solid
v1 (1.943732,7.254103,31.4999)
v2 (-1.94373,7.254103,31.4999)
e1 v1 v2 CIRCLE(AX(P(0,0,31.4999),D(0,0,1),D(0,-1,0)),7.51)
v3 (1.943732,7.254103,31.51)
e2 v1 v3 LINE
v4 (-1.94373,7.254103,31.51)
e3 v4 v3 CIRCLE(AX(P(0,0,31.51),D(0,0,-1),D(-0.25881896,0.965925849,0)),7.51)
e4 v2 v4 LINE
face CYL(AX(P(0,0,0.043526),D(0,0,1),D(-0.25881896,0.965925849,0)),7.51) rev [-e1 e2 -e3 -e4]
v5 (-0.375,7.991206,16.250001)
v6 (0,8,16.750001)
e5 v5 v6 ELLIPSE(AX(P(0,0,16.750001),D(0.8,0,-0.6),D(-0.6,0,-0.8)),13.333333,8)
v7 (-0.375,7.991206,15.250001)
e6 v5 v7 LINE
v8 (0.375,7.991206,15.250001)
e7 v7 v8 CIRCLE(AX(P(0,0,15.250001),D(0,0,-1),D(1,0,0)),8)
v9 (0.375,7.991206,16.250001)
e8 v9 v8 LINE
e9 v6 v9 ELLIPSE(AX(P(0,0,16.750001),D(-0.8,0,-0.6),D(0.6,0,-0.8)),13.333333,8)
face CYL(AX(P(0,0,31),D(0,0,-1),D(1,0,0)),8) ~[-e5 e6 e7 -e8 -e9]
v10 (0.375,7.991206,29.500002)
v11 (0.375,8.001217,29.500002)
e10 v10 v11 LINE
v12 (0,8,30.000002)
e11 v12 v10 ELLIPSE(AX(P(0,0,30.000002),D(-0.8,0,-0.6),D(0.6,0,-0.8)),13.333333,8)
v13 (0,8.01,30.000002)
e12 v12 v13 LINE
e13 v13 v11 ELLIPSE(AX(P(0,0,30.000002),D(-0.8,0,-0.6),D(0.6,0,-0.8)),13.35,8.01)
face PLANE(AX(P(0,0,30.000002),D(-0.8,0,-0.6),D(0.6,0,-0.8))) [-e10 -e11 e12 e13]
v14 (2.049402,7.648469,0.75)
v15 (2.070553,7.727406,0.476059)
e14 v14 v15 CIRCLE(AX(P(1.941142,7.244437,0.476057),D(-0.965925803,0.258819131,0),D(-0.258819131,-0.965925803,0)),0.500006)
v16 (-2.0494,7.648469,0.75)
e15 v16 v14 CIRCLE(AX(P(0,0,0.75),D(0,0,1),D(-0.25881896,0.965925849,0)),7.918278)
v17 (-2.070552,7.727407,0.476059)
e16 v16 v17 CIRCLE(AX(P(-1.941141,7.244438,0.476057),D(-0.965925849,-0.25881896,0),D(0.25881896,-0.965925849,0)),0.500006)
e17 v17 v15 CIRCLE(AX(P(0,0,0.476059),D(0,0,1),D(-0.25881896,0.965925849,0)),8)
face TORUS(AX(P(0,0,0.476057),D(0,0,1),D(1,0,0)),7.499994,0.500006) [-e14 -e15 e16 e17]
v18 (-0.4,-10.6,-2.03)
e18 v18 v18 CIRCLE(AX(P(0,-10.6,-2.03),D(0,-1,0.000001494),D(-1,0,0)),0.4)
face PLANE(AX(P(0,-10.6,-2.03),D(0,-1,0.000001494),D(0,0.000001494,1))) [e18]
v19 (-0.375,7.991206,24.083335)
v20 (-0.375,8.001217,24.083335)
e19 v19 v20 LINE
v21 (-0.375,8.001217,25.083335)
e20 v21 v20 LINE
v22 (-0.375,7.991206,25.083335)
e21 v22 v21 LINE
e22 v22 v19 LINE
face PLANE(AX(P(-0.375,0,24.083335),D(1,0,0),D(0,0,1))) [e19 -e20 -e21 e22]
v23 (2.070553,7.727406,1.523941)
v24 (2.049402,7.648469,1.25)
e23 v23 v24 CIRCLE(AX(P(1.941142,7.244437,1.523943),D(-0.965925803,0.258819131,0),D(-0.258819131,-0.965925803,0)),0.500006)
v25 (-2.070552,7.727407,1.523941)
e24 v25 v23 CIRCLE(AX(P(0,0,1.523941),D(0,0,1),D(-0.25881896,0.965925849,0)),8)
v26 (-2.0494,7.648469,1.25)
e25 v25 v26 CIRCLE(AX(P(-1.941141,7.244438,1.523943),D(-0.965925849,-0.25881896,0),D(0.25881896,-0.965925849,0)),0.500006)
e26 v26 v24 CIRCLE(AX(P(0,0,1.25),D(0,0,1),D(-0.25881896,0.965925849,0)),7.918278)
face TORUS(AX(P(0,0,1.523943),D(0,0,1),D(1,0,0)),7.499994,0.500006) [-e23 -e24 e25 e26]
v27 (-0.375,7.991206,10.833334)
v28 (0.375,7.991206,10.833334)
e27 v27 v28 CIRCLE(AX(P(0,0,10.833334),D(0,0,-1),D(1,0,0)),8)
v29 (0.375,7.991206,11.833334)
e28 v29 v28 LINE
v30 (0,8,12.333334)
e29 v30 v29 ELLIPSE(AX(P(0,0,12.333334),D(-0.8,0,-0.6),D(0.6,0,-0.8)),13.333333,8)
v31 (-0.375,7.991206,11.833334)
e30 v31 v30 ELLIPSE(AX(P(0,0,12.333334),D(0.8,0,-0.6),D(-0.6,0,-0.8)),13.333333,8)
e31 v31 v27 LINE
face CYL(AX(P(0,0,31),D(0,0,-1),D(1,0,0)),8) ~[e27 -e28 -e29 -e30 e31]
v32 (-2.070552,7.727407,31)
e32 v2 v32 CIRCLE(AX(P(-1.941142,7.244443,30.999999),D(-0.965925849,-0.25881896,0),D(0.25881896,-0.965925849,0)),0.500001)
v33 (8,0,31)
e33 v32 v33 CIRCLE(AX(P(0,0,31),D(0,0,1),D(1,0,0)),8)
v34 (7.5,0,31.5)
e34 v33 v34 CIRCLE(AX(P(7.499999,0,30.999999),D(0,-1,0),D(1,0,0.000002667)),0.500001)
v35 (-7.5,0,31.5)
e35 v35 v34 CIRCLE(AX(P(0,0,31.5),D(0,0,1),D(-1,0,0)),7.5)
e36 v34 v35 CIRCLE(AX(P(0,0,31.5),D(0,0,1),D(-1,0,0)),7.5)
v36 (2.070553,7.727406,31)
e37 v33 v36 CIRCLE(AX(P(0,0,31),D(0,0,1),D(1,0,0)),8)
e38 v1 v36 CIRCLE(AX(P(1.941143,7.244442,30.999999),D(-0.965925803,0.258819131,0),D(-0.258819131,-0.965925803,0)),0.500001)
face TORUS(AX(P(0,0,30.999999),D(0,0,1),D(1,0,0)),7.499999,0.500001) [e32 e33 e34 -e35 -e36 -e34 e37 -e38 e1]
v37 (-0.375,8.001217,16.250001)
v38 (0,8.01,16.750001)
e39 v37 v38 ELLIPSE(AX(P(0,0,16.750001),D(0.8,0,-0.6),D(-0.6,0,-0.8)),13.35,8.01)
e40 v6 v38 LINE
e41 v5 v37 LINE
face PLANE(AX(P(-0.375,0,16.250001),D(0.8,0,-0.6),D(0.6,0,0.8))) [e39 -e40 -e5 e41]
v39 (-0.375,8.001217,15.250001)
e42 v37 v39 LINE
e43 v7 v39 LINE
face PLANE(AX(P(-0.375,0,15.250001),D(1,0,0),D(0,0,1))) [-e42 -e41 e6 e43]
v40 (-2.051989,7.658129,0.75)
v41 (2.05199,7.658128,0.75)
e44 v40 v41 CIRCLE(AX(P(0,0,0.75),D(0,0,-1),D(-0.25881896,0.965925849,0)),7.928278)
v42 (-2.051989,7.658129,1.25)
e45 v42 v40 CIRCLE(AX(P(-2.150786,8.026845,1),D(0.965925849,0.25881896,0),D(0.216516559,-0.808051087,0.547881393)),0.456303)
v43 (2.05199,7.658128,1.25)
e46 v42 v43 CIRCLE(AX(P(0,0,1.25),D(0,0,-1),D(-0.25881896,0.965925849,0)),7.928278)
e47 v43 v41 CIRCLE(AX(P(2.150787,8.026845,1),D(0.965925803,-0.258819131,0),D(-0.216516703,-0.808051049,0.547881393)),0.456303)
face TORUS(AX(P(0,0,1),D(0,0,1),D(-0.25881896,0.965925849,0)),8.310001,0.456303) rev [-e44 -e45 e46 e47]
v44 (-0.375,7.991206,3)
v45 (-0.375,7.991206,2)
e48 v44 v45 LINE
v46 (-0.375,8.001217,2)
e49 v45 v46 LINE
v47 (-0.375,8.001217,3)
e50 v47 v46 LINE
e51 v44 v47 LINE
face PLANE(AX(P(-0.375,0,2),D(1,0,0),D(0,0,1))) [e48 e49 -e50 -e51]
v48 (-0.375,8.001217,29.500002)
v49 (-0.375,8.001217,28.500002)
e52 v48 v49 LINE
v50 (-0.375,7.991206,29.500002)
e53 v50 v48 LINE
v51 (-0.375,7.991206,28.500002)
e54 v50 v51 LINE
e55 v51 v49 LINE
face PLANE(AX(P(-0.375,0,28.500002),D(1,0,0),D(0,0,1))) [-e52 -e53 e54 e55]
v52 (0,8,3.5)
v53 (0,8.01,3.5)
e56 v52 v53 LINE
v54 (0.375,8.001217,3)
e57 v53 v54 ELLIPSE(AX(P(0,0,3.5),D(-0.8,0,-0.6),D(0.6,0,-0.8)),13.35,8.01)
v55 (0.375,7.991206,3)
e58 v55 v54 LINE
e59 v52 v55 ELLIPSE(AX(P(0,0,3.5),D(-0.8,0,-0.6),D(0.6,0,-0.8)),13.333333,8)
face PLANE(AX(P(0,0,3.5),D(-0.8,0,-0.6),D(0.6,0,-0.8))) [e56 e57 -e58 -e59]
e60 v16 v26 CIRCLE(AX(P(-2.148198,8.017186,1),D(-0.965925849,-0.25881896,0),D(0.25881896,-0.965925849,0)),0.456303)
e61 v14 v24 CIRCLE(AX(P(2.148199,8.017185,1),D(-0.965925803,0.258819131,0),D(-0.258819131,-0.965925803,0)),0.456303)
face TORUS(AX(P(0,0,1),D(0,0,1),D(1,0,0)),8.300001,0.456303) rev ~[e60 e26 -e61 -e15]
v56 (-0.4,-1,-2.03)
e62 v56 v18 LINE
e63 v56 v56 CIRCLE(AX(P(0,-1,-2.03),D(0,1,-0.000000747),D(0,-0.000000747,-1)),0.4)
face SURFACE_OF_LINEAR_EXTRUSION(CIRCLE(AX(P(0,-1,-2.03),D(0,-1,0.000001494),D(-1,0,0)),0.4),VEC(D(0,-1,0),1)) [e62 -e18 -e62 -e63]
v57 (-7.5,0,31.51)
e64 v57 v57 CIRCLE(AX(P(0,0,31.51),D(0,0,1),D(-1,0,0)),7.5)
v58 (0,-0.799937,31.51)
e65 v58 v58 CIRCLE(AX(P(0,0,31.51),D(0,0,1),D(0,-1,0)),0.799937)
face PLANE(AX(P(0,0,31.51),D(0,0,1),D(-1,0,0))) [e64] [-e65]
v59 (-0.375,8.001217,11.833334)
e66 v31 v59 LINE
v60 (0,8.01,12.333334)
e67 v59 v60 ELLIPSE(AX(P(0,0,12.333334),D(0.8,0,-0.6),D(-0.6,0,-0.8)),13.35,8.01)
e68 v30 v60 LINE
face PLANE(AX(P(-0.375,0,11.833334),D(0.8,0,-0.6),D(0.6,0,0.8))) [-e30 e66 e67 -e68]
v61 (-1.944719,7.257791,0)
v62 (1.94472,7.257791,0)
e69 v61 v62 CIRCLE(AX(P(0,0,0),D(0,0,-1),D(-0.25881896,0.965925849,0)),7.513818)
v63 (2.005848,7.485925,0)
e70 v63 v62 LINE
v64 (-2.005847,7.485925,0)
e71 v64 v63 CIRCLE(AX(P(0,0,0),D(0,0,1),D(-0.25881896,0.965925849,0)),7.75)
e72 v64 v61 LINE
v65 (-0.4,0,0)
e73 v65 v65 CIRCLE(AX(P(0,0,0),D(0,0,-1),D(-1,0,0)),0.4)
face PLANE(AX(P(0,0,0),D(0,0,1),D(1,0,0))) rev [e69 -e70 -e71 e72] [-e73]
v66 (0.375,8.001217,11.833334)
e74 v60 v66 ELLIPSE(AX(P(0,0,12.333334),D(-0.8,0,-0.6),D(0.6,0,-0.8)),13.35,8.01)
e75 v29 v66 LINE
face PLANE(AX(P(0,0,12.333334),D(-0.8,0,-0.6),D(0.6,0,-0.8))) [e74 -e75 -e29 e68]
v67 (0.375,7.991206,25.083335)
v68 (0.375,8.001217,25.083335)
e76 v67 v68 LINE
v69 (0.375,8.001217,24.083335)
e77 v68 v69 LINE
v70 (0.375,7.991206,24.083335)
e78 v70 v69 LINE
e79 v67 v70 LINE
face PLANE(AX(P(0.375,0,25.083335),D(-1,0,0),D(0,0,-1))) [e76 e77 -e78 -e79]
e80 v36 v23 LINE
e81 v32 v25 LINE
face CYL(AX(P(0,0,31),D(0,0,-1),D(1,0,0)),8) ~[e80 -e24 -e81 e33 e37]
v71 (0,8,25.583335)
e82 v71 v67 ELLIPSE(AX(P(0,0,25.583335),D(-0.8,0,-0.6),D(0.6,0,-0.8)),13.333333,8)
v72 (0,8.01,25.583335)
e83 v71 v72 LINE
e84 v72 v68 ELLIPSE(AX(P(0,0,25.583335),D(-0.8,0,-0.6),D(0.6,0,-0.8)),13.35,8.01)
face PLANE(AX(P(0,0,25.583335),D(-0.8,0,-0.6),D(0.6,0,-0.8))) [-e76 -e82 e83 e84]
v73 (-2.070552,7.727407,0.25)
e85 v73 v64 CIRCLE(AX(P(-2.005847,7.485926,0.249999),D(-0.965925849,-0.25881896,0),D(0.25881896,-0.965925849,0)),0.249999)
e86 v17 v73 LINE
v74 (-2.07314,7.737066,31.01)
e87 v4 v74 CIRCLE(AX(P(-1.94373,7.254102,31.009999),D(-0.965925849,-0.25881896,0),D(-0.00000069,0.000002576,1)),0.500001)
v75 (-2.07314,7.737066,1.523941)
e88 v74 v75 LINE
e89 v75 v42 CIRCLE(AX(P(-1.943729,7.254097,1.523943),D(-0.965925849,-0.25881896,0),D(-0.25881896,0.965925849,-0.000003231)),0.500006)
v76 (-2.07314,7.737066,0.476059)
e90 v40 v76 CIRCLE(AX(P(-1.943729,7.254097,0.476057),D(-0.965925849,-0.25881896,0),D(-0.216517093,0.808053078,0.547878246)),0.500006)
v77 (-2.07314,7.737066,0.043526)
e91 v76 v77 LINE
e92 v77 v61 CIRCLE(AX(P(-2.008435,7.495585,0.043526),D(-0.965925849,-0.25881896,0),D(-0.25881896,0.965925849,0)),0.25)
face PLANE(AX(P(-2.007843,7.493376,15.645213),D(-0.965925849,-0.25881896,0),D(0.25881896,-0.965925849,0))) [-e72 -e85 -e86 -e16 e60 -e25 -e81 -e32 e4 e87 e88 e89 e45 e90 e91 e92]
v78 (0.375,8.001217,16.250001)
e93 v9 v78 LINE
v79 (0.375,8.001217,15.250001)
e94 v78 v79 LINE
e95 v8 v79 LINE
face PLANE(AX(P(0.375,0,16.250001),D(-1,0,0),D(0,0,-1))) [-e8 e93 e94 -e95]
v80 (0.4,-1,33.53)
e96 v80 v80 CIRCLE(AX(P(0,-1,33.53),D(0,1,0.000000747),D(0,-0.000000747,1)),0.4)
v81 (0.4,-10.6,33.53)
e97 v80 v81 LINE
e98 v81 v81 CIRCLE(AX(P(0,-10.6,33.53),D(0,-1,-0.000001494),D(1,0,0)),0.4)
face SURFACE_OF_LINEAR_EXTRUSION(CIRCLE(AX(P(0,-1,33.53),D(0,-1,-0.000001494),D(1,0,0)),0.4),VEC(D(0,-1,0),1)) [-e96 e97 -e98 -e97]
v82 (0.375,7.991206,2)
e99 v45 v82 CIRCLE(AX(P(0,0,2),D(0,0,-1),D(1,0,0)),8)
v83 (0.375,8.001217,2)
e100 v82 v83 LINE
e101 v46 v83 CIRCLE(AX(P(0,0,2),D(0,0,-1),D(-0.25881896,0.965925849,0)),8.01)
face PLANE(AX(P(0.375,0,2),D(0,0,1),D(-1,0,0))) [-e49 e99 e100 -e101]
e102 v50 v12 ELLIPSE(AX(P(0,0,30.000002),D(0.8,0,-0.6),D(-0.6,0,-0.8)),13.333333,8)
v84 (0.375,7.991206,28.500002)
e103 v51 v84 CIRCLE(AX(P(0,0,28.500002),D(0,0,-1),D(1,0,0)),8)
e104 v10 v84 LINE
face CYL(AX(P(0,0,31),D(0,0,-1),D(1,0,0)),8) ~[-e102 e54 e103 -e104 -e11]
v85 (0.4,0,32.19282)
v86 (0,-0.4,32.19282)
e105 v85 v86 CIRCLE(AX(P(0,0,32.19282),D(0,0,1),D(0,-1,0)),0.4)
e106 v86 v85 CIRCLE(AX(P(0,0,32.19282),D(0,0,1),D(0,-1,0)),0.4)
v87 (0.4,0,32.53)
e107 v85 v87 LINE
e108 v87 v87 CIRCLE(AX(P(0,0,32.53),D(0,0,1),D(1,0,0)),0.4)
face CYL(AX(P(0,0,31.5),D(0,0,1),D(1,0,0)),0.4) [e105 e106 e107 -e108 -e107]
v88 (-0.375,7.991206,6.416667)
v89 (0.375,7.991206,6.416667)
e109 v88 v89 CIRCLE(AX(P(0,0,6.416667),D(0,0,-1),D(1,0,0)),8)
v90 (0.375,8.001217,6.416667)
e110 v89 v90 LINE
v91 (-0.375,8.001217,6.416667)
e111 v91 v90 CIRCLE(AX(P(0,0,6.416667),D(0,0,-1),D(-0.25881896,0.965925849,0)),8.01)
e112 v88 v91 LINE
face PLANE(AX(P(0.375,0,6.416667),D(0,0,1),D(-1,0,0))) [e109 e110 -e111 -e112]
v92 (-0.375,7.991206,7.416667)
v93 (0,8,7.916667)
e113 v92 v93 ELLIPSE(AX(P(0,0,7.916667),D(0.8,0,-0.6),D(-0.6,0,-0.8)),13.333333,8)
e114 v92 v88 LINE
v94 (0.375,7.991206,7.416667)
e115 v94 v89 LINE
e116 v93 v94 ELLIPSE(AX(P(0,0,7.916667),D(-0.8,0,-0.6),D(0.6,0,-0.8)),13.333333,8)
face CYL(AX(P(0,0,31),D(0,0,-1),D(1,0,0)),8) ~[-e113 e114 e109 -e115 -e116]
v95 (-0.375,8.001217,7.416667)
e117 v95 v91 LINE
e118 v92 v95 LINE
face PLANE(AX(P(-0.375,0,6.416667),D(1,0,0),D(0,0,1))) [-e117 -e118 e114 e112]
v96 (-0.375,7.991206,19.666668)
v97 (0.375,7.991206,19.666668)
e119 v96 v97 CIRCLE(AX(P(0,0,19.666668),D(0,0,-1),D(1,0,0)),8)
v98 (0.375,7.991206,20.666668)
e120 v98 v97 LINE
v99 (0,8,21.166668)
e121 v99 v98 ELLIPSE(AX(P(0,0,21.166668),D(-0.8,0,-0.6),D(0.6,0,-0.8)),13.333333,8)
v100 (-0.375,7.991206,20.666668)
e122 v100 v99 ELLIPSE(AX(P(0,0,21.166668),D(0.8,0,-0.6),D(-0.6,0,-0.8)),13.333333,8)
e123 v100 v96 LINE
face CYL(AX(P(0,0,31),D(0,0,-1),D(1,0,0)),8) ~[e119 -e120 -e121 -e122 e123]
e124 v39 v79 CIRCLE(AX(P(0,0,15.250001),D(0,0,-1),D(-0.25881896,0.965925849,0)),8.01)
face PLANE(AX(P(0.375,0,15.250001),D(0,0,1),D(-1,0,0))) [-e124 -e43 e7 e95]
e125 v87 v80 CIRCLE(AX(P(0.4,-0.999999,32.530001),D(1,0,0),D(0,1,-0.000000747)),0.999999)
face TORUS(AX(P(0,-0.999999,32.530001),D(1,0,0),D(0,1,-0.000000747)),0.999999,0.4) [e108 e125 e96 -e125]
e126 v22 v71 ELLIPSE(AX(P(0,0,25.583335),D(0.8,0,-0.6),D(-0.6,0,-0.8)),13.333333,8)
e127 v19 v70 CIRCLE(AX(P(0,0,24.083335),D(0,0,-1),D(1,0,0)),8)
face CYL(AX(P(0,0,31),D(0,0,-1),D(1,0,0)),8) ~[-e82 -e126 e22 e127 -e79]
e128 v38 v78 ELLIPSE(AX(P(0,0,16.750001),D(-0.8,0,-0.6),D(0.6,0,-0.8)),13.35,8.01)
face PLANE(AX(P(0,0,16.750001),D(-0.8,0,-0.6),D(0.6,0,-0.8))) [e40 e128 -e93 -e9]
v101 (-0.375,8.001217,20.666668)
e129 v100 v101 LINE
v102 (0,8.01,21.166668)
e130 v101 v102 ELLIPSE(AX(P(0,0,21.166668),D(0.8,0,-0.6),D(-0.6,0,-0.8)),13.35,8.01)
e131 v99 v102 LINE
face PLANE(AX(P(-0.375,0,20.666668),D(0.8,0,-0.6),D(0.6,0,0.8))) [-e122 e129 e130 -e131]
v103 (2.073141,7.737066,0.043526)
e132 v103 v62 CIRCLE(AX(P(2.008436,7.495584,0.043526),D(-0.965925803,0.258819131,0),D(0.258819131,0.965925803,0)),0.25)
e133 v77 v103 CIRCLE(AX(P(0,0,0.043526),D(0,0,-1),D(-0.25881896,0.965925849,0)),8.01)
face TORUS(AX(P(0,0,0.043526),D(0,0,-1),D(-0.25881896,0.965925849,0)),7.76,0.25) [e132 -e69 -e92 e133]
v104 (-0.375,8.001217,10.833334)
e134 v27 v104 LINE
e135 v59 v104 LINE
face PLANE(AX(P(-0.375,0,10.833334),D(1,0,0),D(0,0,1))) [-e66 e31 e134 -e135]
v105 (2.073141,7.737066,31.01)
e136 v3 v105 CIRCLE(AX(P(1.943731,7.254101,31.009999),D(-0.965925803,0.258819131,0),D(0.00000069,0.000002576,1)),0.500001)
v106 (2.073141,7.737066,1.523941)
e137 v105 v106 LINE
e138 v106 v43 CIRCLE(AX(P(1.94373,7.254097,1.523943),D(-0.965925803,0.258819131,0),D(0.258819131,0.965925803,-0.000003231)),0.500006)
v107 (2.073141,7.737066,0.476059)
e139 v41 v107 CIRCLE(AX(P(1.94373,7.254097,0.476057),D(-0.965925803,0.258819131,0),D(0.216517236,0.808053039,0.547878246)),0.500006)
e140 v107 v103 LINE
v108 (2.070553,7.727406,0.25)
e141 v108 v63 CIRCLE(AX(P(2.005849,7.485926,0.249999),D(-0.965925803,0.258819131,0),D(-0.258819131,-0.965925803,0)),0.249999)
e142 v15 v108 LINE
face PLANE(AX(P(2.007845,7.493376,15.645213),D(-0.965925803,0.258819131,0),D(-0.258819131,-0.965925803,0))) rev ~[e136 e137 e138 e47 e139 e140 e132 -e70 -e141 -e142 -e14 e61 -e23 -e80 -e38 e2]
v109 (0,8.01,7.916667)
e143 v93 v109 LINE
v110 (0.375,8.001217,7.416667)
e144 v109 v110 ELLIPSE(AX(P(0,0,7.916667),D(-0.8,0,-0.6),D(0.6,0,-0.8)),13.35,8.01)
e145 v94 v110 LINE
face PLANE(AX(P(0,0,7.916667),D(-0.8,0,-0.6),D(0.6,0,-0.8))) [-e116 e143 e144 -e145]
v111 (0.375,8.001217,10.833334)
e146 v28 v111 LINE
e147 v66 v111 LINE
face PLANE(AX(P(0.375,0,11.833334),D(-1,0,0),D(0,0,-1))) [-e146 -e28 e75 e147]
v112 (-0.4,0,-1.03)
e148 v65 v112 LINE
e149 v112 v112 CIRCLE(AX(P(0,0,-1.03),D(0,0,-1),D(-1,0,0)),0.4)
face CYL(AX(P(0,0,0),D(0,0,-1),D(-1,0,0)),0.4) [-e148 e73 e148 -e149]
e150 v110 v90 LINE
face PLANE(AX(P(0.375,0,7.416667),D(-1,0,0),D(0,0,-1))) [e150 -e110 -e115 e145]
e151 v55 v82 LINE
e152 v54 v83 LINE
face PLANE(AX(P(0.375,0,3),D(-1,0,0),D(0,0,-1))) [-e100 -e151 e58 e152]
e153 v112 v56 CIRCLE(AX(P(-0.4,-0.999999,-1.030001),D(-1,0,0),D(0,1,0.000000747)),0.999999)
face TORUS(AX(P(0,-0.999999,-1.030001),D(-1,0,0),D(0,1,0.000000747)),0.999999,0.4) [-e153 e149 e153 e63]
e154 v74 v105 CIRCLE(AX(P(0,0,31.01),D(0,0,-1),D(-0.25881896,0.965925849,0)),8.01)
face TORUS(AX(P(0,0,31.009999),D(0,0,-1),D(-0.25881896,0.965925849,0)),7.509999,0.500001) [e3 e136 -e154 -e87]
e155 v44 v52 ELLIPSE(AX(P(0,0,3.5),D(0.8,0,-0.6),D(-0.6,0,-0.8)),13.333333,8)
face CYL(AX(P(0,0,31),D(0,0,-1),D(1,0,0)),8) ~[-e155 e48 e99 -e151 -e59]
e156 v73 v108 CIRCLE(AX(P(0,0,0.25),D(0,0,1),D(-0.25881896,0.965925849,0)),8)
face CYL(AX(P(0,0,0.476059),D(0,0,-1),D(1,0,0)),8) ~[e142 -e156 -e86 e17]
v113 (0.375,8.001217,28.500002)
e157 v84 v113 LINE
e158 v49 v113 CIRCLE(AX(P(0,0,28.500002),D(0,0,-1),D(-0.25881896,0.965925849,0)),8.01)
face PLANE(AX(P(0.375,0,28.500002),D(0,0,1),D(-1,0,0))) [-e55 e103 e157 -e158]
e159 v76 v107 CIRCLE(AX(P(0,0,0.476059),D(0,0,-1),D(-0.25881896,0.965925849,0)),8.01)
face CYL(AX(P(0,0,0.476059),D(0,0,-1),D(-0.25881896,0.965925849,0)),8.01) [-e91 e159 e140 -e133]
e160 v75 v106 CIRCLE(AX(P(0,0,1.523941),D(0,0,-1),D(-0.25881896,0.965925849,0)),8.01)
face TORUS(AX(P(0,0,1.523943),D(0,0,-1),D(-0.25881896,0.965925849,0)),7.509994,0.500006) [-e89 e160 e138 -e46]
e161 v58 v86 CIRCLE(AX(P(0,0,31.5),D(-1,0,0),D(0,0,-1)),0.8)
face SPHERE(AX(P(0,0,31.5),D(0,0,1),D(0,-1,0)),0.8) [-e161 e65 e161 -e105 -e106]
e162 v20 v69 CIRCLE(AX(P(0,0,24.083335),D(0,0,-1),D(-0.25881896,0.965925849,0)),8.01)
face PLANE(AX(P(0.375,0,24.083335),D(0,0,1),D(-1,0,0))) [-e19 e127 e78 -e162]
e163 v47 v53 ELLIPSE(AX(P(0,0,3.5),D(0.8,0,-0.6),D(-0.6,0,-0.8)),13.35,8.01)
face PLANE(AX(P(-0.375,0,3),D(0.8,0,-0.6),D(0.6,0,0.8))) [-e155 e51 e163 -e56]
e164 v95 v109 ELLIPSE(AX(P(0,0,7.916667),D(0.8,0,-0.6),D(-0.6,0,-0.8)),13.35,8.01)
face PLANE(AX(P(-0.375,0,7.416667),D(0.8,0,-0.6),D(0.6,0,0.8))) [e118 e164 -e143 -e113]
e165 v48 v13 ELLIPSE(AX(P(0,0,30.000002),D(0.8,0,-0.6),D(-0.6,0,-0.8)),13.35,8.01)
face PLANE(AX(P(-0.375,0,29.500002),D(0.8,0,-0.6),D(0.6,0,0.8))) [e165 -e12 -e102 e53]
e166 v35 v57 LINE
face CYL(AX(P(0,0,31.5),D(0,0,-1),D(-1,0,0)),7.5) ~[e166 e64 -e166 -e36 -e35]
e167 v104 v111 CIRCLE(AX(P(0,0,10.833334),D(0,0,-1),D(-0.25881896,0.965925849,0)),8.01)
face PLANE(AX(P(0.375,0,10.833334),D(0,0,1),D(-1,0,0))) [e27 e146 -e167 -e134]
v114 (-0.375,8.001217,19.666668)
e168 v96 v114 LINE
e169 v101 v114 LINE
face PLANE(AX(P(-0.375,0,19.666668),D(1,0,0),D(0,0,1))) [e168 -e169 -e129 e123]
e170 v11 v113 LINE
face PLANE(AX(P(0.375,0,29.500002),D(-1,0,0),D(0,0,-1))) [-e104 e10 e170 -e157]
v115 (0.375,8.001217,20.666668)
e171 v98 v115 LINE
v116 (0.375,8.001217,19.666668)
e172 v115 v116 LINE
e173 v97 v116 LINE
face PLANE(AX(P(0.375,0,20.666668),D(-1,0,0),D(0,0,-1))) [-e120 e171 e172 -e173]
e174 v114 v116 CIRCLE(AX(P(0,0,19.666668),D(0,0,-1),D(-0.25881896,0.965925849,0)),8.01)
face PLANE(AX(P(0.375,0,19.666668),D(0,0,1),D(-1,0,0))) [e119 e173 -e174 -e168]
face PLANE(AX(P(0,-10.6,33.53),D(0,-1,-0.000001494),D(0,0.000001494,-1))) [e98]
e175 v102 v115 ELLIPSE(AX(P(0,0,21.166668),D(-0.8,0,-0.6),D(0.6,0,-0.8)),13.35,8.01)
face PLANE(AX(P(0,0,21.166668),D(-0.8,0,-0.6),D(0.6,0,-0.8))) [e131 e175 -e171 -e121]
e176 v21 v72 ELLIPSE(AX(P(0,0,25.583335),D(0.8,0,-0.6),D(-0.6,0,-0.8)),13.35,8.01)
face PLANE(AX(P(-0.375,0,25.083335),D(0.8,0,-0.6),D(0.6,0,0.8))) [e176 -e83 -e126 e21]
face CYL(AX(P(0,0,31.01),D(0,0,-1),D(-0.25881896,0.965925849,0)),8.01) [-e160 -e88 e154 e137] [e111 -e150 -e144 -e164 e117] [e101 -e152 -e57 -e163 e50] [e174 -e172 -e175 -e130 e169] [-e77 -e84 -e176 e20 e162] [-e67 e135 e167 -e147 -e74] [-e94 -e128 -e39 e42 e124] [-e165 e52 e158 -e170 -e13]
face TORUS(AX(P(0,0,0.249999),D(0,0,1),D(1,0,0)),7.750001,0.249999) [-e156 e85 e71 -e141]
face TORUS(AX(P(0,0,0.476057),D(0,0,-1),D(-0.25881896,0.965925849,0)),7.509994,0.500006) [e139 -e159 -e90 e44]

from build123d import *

# Parameters (mm, degrees)
SKETCH011_R             = 0.4
BODY007_PLACEMENT_ANGLE = 180
REVOLUTION001_ANGLE     = -30
POCKET_DEPTH            = 8.011
LINEARPATTERN_COUNT     = 7
LINEARPATTERN_PITCH     = 4.416667
SKETCH012_R             = 7.5
PAD_DEPTH               = 0.01
BODY008_PLACEMENT_ANGLE = 90


with BuildPart() as lead:
    # AdditivePipe: sweep along a path in Sketch010
    with BuildLine(Plane(origin=(0, 0, 0), x_dir=(0, -1, 0), z_dir=(-1, 0, 0))) as additivepipe_path:
        Line((0, 31.5), (0, 32.53))
        ThreePointArc((0, 32.53), (0.292893, 33.237107), (1, 33.53))
        Line((1, 33.53), (10.6, 33.53))
    # Sketch011 → AdditivePipe (sweep)
    with BuildSketch(Plane.XY.offset(31.5)):
        Circle(SKETCH011_R)
    sweep(path=additivepipe_path.line)


with BuildPart() as leadclone:
    # Body007 base: copy of Lead
    add(lead.part)


with BuildPart() as leadclone_1:
    # Body007 placement: moved
    add(leadclone.part.moved(Location((0, 0, 31.5))).rotate(Axis((0, 0, 31.5), (0, 1, 0)), BODY007_PLACEMENT_ANGLE))


with BuildPart() as polaritymarking:
    # Sketch005 → Revolution001 (revolve)
    with BuildSketch(Plane(origin=(0, 0, 0), x_dir=(-0.258819, 0.965926, 0), z_dir=(0.965926, 0.258819, 0))):
        with BuildLine():
            Line((7.51, 0.043526), (7.51, 31.51))
            ThreePointArc((7.51, 31.51), (7.863553, 31.363553), (8.01, 31.01))
            Line((8.01, 31.01), (8.01, 1.523941))
            ThreePointArc((8.01, 1.523941), (7.989134, 1.381006), (7.928278, 1.25))
            ThreePointArc((7.928278, 1.25), (7.853698, 1), (7.928278, 0.75))
            ThreePointArc((7.928278, 0.75), (7.989134, 0.618994), (8.01, 0.476059))
            Line((8.01, 0.476059), (8.01, 0.043526))
            ThreePointArc((8.01, 0.043526), (7.76, -0.206474), (7.51, 0.043526))
        make_face()
    revolve(axis=Axis((0, 0, 0), (0, 0, 1)), revolution_arc=REVOLUTION001_ANGLE)

    # Sketch013 → Pocket (cut, through all)
    with BuildSketch(Plane.XZ):
        Polygon((0.375, 2), (-0.375, 2), (-0.375, 3), (0, 3.5), (0.375, 3), align=None)
    pocket = extrude(amount=-POCKET_DEPTH, mode=Mode.SUBTRACT)

    # LinearPattern: Pocket ×7
    with Locations(*[(0, 0, i * LINEARPATTERN_PITCH) for i in range(1, LINEARPATTERN_COUNT)]):
        add(pocket, mode=Mode.SUBTRACT)


with BuildPart() as housing:
    # Sketch → Revolution (revolve)
    with BuildSketch(Plane.XZ):
        with BuildLine():
            Line((0, 31.5), (7.5, 31.5))
            ThreePointArc((8, 31), (7.853553, 31.353553), (7.5, 31.5))
            Line((8, 31), (8, 1.523941))
            ThreePointArc((7.918278, 1.25), (7.979134, 1.381006), (8, 1.523941))
            ThreePointArc((7.918278, 1.25), (7.843698, 1), (7.918278, 0.75))
            ThreePointArc((8, 0.476059), (7.979134, 0.618994), (7.918278, 0.75))
            Line((8, 0.476059), (8, 0.25))
            ThreePointArc((7.75, 0), (7.926777, 0.073223), (8, 0.25))
            Line((0, 0), (7.75, 0))
            Line((0, 31.5), (0, 0))
        make_face()
    revolve(axis=Axis((0, 0, 0), (0, 0, 1)))


with BuildPart() as fusion:
    # Sphere → Sphere (revolve)
    with BuildSketch(Plane.XZ):
        with BuildLine():
            ThreePointArc((0, -0.8), (0.8, 0), (0, 0.8))
            Line((0, 0.8), (0, -0.8))
        make_face()
    revolve(axis=Axis((0, 0, 0), (0, 0, 1)))

    # Sketch012 (on ShapeBinder) → Pad (new body)
    with BuildSketch(Plane(origin=(0, 0, 0), x_dir=(0, -1, 0), z_dir=(0, 0, 1))):
        Circle(SKETCH012_R)
    extrude(amount=PAD_DEPTH)


with BuildPart() as fusion_1:
    # Body008 placement: moved
    add(fusion.part.moved(Location((0, 0, 31.5))).rotate(Axis((0, 0, 31.5), (0, 0, -1)), BODY008_PLACEMENT_ANGLE))

    # Fusion: union LeadClone, Lead, PolarityMarking, Housing
    add(leadclone_1.part)
    add(lead.part)
    add(polaritymarking.part)
    add(housing.part)


solid = fusion_1.part
